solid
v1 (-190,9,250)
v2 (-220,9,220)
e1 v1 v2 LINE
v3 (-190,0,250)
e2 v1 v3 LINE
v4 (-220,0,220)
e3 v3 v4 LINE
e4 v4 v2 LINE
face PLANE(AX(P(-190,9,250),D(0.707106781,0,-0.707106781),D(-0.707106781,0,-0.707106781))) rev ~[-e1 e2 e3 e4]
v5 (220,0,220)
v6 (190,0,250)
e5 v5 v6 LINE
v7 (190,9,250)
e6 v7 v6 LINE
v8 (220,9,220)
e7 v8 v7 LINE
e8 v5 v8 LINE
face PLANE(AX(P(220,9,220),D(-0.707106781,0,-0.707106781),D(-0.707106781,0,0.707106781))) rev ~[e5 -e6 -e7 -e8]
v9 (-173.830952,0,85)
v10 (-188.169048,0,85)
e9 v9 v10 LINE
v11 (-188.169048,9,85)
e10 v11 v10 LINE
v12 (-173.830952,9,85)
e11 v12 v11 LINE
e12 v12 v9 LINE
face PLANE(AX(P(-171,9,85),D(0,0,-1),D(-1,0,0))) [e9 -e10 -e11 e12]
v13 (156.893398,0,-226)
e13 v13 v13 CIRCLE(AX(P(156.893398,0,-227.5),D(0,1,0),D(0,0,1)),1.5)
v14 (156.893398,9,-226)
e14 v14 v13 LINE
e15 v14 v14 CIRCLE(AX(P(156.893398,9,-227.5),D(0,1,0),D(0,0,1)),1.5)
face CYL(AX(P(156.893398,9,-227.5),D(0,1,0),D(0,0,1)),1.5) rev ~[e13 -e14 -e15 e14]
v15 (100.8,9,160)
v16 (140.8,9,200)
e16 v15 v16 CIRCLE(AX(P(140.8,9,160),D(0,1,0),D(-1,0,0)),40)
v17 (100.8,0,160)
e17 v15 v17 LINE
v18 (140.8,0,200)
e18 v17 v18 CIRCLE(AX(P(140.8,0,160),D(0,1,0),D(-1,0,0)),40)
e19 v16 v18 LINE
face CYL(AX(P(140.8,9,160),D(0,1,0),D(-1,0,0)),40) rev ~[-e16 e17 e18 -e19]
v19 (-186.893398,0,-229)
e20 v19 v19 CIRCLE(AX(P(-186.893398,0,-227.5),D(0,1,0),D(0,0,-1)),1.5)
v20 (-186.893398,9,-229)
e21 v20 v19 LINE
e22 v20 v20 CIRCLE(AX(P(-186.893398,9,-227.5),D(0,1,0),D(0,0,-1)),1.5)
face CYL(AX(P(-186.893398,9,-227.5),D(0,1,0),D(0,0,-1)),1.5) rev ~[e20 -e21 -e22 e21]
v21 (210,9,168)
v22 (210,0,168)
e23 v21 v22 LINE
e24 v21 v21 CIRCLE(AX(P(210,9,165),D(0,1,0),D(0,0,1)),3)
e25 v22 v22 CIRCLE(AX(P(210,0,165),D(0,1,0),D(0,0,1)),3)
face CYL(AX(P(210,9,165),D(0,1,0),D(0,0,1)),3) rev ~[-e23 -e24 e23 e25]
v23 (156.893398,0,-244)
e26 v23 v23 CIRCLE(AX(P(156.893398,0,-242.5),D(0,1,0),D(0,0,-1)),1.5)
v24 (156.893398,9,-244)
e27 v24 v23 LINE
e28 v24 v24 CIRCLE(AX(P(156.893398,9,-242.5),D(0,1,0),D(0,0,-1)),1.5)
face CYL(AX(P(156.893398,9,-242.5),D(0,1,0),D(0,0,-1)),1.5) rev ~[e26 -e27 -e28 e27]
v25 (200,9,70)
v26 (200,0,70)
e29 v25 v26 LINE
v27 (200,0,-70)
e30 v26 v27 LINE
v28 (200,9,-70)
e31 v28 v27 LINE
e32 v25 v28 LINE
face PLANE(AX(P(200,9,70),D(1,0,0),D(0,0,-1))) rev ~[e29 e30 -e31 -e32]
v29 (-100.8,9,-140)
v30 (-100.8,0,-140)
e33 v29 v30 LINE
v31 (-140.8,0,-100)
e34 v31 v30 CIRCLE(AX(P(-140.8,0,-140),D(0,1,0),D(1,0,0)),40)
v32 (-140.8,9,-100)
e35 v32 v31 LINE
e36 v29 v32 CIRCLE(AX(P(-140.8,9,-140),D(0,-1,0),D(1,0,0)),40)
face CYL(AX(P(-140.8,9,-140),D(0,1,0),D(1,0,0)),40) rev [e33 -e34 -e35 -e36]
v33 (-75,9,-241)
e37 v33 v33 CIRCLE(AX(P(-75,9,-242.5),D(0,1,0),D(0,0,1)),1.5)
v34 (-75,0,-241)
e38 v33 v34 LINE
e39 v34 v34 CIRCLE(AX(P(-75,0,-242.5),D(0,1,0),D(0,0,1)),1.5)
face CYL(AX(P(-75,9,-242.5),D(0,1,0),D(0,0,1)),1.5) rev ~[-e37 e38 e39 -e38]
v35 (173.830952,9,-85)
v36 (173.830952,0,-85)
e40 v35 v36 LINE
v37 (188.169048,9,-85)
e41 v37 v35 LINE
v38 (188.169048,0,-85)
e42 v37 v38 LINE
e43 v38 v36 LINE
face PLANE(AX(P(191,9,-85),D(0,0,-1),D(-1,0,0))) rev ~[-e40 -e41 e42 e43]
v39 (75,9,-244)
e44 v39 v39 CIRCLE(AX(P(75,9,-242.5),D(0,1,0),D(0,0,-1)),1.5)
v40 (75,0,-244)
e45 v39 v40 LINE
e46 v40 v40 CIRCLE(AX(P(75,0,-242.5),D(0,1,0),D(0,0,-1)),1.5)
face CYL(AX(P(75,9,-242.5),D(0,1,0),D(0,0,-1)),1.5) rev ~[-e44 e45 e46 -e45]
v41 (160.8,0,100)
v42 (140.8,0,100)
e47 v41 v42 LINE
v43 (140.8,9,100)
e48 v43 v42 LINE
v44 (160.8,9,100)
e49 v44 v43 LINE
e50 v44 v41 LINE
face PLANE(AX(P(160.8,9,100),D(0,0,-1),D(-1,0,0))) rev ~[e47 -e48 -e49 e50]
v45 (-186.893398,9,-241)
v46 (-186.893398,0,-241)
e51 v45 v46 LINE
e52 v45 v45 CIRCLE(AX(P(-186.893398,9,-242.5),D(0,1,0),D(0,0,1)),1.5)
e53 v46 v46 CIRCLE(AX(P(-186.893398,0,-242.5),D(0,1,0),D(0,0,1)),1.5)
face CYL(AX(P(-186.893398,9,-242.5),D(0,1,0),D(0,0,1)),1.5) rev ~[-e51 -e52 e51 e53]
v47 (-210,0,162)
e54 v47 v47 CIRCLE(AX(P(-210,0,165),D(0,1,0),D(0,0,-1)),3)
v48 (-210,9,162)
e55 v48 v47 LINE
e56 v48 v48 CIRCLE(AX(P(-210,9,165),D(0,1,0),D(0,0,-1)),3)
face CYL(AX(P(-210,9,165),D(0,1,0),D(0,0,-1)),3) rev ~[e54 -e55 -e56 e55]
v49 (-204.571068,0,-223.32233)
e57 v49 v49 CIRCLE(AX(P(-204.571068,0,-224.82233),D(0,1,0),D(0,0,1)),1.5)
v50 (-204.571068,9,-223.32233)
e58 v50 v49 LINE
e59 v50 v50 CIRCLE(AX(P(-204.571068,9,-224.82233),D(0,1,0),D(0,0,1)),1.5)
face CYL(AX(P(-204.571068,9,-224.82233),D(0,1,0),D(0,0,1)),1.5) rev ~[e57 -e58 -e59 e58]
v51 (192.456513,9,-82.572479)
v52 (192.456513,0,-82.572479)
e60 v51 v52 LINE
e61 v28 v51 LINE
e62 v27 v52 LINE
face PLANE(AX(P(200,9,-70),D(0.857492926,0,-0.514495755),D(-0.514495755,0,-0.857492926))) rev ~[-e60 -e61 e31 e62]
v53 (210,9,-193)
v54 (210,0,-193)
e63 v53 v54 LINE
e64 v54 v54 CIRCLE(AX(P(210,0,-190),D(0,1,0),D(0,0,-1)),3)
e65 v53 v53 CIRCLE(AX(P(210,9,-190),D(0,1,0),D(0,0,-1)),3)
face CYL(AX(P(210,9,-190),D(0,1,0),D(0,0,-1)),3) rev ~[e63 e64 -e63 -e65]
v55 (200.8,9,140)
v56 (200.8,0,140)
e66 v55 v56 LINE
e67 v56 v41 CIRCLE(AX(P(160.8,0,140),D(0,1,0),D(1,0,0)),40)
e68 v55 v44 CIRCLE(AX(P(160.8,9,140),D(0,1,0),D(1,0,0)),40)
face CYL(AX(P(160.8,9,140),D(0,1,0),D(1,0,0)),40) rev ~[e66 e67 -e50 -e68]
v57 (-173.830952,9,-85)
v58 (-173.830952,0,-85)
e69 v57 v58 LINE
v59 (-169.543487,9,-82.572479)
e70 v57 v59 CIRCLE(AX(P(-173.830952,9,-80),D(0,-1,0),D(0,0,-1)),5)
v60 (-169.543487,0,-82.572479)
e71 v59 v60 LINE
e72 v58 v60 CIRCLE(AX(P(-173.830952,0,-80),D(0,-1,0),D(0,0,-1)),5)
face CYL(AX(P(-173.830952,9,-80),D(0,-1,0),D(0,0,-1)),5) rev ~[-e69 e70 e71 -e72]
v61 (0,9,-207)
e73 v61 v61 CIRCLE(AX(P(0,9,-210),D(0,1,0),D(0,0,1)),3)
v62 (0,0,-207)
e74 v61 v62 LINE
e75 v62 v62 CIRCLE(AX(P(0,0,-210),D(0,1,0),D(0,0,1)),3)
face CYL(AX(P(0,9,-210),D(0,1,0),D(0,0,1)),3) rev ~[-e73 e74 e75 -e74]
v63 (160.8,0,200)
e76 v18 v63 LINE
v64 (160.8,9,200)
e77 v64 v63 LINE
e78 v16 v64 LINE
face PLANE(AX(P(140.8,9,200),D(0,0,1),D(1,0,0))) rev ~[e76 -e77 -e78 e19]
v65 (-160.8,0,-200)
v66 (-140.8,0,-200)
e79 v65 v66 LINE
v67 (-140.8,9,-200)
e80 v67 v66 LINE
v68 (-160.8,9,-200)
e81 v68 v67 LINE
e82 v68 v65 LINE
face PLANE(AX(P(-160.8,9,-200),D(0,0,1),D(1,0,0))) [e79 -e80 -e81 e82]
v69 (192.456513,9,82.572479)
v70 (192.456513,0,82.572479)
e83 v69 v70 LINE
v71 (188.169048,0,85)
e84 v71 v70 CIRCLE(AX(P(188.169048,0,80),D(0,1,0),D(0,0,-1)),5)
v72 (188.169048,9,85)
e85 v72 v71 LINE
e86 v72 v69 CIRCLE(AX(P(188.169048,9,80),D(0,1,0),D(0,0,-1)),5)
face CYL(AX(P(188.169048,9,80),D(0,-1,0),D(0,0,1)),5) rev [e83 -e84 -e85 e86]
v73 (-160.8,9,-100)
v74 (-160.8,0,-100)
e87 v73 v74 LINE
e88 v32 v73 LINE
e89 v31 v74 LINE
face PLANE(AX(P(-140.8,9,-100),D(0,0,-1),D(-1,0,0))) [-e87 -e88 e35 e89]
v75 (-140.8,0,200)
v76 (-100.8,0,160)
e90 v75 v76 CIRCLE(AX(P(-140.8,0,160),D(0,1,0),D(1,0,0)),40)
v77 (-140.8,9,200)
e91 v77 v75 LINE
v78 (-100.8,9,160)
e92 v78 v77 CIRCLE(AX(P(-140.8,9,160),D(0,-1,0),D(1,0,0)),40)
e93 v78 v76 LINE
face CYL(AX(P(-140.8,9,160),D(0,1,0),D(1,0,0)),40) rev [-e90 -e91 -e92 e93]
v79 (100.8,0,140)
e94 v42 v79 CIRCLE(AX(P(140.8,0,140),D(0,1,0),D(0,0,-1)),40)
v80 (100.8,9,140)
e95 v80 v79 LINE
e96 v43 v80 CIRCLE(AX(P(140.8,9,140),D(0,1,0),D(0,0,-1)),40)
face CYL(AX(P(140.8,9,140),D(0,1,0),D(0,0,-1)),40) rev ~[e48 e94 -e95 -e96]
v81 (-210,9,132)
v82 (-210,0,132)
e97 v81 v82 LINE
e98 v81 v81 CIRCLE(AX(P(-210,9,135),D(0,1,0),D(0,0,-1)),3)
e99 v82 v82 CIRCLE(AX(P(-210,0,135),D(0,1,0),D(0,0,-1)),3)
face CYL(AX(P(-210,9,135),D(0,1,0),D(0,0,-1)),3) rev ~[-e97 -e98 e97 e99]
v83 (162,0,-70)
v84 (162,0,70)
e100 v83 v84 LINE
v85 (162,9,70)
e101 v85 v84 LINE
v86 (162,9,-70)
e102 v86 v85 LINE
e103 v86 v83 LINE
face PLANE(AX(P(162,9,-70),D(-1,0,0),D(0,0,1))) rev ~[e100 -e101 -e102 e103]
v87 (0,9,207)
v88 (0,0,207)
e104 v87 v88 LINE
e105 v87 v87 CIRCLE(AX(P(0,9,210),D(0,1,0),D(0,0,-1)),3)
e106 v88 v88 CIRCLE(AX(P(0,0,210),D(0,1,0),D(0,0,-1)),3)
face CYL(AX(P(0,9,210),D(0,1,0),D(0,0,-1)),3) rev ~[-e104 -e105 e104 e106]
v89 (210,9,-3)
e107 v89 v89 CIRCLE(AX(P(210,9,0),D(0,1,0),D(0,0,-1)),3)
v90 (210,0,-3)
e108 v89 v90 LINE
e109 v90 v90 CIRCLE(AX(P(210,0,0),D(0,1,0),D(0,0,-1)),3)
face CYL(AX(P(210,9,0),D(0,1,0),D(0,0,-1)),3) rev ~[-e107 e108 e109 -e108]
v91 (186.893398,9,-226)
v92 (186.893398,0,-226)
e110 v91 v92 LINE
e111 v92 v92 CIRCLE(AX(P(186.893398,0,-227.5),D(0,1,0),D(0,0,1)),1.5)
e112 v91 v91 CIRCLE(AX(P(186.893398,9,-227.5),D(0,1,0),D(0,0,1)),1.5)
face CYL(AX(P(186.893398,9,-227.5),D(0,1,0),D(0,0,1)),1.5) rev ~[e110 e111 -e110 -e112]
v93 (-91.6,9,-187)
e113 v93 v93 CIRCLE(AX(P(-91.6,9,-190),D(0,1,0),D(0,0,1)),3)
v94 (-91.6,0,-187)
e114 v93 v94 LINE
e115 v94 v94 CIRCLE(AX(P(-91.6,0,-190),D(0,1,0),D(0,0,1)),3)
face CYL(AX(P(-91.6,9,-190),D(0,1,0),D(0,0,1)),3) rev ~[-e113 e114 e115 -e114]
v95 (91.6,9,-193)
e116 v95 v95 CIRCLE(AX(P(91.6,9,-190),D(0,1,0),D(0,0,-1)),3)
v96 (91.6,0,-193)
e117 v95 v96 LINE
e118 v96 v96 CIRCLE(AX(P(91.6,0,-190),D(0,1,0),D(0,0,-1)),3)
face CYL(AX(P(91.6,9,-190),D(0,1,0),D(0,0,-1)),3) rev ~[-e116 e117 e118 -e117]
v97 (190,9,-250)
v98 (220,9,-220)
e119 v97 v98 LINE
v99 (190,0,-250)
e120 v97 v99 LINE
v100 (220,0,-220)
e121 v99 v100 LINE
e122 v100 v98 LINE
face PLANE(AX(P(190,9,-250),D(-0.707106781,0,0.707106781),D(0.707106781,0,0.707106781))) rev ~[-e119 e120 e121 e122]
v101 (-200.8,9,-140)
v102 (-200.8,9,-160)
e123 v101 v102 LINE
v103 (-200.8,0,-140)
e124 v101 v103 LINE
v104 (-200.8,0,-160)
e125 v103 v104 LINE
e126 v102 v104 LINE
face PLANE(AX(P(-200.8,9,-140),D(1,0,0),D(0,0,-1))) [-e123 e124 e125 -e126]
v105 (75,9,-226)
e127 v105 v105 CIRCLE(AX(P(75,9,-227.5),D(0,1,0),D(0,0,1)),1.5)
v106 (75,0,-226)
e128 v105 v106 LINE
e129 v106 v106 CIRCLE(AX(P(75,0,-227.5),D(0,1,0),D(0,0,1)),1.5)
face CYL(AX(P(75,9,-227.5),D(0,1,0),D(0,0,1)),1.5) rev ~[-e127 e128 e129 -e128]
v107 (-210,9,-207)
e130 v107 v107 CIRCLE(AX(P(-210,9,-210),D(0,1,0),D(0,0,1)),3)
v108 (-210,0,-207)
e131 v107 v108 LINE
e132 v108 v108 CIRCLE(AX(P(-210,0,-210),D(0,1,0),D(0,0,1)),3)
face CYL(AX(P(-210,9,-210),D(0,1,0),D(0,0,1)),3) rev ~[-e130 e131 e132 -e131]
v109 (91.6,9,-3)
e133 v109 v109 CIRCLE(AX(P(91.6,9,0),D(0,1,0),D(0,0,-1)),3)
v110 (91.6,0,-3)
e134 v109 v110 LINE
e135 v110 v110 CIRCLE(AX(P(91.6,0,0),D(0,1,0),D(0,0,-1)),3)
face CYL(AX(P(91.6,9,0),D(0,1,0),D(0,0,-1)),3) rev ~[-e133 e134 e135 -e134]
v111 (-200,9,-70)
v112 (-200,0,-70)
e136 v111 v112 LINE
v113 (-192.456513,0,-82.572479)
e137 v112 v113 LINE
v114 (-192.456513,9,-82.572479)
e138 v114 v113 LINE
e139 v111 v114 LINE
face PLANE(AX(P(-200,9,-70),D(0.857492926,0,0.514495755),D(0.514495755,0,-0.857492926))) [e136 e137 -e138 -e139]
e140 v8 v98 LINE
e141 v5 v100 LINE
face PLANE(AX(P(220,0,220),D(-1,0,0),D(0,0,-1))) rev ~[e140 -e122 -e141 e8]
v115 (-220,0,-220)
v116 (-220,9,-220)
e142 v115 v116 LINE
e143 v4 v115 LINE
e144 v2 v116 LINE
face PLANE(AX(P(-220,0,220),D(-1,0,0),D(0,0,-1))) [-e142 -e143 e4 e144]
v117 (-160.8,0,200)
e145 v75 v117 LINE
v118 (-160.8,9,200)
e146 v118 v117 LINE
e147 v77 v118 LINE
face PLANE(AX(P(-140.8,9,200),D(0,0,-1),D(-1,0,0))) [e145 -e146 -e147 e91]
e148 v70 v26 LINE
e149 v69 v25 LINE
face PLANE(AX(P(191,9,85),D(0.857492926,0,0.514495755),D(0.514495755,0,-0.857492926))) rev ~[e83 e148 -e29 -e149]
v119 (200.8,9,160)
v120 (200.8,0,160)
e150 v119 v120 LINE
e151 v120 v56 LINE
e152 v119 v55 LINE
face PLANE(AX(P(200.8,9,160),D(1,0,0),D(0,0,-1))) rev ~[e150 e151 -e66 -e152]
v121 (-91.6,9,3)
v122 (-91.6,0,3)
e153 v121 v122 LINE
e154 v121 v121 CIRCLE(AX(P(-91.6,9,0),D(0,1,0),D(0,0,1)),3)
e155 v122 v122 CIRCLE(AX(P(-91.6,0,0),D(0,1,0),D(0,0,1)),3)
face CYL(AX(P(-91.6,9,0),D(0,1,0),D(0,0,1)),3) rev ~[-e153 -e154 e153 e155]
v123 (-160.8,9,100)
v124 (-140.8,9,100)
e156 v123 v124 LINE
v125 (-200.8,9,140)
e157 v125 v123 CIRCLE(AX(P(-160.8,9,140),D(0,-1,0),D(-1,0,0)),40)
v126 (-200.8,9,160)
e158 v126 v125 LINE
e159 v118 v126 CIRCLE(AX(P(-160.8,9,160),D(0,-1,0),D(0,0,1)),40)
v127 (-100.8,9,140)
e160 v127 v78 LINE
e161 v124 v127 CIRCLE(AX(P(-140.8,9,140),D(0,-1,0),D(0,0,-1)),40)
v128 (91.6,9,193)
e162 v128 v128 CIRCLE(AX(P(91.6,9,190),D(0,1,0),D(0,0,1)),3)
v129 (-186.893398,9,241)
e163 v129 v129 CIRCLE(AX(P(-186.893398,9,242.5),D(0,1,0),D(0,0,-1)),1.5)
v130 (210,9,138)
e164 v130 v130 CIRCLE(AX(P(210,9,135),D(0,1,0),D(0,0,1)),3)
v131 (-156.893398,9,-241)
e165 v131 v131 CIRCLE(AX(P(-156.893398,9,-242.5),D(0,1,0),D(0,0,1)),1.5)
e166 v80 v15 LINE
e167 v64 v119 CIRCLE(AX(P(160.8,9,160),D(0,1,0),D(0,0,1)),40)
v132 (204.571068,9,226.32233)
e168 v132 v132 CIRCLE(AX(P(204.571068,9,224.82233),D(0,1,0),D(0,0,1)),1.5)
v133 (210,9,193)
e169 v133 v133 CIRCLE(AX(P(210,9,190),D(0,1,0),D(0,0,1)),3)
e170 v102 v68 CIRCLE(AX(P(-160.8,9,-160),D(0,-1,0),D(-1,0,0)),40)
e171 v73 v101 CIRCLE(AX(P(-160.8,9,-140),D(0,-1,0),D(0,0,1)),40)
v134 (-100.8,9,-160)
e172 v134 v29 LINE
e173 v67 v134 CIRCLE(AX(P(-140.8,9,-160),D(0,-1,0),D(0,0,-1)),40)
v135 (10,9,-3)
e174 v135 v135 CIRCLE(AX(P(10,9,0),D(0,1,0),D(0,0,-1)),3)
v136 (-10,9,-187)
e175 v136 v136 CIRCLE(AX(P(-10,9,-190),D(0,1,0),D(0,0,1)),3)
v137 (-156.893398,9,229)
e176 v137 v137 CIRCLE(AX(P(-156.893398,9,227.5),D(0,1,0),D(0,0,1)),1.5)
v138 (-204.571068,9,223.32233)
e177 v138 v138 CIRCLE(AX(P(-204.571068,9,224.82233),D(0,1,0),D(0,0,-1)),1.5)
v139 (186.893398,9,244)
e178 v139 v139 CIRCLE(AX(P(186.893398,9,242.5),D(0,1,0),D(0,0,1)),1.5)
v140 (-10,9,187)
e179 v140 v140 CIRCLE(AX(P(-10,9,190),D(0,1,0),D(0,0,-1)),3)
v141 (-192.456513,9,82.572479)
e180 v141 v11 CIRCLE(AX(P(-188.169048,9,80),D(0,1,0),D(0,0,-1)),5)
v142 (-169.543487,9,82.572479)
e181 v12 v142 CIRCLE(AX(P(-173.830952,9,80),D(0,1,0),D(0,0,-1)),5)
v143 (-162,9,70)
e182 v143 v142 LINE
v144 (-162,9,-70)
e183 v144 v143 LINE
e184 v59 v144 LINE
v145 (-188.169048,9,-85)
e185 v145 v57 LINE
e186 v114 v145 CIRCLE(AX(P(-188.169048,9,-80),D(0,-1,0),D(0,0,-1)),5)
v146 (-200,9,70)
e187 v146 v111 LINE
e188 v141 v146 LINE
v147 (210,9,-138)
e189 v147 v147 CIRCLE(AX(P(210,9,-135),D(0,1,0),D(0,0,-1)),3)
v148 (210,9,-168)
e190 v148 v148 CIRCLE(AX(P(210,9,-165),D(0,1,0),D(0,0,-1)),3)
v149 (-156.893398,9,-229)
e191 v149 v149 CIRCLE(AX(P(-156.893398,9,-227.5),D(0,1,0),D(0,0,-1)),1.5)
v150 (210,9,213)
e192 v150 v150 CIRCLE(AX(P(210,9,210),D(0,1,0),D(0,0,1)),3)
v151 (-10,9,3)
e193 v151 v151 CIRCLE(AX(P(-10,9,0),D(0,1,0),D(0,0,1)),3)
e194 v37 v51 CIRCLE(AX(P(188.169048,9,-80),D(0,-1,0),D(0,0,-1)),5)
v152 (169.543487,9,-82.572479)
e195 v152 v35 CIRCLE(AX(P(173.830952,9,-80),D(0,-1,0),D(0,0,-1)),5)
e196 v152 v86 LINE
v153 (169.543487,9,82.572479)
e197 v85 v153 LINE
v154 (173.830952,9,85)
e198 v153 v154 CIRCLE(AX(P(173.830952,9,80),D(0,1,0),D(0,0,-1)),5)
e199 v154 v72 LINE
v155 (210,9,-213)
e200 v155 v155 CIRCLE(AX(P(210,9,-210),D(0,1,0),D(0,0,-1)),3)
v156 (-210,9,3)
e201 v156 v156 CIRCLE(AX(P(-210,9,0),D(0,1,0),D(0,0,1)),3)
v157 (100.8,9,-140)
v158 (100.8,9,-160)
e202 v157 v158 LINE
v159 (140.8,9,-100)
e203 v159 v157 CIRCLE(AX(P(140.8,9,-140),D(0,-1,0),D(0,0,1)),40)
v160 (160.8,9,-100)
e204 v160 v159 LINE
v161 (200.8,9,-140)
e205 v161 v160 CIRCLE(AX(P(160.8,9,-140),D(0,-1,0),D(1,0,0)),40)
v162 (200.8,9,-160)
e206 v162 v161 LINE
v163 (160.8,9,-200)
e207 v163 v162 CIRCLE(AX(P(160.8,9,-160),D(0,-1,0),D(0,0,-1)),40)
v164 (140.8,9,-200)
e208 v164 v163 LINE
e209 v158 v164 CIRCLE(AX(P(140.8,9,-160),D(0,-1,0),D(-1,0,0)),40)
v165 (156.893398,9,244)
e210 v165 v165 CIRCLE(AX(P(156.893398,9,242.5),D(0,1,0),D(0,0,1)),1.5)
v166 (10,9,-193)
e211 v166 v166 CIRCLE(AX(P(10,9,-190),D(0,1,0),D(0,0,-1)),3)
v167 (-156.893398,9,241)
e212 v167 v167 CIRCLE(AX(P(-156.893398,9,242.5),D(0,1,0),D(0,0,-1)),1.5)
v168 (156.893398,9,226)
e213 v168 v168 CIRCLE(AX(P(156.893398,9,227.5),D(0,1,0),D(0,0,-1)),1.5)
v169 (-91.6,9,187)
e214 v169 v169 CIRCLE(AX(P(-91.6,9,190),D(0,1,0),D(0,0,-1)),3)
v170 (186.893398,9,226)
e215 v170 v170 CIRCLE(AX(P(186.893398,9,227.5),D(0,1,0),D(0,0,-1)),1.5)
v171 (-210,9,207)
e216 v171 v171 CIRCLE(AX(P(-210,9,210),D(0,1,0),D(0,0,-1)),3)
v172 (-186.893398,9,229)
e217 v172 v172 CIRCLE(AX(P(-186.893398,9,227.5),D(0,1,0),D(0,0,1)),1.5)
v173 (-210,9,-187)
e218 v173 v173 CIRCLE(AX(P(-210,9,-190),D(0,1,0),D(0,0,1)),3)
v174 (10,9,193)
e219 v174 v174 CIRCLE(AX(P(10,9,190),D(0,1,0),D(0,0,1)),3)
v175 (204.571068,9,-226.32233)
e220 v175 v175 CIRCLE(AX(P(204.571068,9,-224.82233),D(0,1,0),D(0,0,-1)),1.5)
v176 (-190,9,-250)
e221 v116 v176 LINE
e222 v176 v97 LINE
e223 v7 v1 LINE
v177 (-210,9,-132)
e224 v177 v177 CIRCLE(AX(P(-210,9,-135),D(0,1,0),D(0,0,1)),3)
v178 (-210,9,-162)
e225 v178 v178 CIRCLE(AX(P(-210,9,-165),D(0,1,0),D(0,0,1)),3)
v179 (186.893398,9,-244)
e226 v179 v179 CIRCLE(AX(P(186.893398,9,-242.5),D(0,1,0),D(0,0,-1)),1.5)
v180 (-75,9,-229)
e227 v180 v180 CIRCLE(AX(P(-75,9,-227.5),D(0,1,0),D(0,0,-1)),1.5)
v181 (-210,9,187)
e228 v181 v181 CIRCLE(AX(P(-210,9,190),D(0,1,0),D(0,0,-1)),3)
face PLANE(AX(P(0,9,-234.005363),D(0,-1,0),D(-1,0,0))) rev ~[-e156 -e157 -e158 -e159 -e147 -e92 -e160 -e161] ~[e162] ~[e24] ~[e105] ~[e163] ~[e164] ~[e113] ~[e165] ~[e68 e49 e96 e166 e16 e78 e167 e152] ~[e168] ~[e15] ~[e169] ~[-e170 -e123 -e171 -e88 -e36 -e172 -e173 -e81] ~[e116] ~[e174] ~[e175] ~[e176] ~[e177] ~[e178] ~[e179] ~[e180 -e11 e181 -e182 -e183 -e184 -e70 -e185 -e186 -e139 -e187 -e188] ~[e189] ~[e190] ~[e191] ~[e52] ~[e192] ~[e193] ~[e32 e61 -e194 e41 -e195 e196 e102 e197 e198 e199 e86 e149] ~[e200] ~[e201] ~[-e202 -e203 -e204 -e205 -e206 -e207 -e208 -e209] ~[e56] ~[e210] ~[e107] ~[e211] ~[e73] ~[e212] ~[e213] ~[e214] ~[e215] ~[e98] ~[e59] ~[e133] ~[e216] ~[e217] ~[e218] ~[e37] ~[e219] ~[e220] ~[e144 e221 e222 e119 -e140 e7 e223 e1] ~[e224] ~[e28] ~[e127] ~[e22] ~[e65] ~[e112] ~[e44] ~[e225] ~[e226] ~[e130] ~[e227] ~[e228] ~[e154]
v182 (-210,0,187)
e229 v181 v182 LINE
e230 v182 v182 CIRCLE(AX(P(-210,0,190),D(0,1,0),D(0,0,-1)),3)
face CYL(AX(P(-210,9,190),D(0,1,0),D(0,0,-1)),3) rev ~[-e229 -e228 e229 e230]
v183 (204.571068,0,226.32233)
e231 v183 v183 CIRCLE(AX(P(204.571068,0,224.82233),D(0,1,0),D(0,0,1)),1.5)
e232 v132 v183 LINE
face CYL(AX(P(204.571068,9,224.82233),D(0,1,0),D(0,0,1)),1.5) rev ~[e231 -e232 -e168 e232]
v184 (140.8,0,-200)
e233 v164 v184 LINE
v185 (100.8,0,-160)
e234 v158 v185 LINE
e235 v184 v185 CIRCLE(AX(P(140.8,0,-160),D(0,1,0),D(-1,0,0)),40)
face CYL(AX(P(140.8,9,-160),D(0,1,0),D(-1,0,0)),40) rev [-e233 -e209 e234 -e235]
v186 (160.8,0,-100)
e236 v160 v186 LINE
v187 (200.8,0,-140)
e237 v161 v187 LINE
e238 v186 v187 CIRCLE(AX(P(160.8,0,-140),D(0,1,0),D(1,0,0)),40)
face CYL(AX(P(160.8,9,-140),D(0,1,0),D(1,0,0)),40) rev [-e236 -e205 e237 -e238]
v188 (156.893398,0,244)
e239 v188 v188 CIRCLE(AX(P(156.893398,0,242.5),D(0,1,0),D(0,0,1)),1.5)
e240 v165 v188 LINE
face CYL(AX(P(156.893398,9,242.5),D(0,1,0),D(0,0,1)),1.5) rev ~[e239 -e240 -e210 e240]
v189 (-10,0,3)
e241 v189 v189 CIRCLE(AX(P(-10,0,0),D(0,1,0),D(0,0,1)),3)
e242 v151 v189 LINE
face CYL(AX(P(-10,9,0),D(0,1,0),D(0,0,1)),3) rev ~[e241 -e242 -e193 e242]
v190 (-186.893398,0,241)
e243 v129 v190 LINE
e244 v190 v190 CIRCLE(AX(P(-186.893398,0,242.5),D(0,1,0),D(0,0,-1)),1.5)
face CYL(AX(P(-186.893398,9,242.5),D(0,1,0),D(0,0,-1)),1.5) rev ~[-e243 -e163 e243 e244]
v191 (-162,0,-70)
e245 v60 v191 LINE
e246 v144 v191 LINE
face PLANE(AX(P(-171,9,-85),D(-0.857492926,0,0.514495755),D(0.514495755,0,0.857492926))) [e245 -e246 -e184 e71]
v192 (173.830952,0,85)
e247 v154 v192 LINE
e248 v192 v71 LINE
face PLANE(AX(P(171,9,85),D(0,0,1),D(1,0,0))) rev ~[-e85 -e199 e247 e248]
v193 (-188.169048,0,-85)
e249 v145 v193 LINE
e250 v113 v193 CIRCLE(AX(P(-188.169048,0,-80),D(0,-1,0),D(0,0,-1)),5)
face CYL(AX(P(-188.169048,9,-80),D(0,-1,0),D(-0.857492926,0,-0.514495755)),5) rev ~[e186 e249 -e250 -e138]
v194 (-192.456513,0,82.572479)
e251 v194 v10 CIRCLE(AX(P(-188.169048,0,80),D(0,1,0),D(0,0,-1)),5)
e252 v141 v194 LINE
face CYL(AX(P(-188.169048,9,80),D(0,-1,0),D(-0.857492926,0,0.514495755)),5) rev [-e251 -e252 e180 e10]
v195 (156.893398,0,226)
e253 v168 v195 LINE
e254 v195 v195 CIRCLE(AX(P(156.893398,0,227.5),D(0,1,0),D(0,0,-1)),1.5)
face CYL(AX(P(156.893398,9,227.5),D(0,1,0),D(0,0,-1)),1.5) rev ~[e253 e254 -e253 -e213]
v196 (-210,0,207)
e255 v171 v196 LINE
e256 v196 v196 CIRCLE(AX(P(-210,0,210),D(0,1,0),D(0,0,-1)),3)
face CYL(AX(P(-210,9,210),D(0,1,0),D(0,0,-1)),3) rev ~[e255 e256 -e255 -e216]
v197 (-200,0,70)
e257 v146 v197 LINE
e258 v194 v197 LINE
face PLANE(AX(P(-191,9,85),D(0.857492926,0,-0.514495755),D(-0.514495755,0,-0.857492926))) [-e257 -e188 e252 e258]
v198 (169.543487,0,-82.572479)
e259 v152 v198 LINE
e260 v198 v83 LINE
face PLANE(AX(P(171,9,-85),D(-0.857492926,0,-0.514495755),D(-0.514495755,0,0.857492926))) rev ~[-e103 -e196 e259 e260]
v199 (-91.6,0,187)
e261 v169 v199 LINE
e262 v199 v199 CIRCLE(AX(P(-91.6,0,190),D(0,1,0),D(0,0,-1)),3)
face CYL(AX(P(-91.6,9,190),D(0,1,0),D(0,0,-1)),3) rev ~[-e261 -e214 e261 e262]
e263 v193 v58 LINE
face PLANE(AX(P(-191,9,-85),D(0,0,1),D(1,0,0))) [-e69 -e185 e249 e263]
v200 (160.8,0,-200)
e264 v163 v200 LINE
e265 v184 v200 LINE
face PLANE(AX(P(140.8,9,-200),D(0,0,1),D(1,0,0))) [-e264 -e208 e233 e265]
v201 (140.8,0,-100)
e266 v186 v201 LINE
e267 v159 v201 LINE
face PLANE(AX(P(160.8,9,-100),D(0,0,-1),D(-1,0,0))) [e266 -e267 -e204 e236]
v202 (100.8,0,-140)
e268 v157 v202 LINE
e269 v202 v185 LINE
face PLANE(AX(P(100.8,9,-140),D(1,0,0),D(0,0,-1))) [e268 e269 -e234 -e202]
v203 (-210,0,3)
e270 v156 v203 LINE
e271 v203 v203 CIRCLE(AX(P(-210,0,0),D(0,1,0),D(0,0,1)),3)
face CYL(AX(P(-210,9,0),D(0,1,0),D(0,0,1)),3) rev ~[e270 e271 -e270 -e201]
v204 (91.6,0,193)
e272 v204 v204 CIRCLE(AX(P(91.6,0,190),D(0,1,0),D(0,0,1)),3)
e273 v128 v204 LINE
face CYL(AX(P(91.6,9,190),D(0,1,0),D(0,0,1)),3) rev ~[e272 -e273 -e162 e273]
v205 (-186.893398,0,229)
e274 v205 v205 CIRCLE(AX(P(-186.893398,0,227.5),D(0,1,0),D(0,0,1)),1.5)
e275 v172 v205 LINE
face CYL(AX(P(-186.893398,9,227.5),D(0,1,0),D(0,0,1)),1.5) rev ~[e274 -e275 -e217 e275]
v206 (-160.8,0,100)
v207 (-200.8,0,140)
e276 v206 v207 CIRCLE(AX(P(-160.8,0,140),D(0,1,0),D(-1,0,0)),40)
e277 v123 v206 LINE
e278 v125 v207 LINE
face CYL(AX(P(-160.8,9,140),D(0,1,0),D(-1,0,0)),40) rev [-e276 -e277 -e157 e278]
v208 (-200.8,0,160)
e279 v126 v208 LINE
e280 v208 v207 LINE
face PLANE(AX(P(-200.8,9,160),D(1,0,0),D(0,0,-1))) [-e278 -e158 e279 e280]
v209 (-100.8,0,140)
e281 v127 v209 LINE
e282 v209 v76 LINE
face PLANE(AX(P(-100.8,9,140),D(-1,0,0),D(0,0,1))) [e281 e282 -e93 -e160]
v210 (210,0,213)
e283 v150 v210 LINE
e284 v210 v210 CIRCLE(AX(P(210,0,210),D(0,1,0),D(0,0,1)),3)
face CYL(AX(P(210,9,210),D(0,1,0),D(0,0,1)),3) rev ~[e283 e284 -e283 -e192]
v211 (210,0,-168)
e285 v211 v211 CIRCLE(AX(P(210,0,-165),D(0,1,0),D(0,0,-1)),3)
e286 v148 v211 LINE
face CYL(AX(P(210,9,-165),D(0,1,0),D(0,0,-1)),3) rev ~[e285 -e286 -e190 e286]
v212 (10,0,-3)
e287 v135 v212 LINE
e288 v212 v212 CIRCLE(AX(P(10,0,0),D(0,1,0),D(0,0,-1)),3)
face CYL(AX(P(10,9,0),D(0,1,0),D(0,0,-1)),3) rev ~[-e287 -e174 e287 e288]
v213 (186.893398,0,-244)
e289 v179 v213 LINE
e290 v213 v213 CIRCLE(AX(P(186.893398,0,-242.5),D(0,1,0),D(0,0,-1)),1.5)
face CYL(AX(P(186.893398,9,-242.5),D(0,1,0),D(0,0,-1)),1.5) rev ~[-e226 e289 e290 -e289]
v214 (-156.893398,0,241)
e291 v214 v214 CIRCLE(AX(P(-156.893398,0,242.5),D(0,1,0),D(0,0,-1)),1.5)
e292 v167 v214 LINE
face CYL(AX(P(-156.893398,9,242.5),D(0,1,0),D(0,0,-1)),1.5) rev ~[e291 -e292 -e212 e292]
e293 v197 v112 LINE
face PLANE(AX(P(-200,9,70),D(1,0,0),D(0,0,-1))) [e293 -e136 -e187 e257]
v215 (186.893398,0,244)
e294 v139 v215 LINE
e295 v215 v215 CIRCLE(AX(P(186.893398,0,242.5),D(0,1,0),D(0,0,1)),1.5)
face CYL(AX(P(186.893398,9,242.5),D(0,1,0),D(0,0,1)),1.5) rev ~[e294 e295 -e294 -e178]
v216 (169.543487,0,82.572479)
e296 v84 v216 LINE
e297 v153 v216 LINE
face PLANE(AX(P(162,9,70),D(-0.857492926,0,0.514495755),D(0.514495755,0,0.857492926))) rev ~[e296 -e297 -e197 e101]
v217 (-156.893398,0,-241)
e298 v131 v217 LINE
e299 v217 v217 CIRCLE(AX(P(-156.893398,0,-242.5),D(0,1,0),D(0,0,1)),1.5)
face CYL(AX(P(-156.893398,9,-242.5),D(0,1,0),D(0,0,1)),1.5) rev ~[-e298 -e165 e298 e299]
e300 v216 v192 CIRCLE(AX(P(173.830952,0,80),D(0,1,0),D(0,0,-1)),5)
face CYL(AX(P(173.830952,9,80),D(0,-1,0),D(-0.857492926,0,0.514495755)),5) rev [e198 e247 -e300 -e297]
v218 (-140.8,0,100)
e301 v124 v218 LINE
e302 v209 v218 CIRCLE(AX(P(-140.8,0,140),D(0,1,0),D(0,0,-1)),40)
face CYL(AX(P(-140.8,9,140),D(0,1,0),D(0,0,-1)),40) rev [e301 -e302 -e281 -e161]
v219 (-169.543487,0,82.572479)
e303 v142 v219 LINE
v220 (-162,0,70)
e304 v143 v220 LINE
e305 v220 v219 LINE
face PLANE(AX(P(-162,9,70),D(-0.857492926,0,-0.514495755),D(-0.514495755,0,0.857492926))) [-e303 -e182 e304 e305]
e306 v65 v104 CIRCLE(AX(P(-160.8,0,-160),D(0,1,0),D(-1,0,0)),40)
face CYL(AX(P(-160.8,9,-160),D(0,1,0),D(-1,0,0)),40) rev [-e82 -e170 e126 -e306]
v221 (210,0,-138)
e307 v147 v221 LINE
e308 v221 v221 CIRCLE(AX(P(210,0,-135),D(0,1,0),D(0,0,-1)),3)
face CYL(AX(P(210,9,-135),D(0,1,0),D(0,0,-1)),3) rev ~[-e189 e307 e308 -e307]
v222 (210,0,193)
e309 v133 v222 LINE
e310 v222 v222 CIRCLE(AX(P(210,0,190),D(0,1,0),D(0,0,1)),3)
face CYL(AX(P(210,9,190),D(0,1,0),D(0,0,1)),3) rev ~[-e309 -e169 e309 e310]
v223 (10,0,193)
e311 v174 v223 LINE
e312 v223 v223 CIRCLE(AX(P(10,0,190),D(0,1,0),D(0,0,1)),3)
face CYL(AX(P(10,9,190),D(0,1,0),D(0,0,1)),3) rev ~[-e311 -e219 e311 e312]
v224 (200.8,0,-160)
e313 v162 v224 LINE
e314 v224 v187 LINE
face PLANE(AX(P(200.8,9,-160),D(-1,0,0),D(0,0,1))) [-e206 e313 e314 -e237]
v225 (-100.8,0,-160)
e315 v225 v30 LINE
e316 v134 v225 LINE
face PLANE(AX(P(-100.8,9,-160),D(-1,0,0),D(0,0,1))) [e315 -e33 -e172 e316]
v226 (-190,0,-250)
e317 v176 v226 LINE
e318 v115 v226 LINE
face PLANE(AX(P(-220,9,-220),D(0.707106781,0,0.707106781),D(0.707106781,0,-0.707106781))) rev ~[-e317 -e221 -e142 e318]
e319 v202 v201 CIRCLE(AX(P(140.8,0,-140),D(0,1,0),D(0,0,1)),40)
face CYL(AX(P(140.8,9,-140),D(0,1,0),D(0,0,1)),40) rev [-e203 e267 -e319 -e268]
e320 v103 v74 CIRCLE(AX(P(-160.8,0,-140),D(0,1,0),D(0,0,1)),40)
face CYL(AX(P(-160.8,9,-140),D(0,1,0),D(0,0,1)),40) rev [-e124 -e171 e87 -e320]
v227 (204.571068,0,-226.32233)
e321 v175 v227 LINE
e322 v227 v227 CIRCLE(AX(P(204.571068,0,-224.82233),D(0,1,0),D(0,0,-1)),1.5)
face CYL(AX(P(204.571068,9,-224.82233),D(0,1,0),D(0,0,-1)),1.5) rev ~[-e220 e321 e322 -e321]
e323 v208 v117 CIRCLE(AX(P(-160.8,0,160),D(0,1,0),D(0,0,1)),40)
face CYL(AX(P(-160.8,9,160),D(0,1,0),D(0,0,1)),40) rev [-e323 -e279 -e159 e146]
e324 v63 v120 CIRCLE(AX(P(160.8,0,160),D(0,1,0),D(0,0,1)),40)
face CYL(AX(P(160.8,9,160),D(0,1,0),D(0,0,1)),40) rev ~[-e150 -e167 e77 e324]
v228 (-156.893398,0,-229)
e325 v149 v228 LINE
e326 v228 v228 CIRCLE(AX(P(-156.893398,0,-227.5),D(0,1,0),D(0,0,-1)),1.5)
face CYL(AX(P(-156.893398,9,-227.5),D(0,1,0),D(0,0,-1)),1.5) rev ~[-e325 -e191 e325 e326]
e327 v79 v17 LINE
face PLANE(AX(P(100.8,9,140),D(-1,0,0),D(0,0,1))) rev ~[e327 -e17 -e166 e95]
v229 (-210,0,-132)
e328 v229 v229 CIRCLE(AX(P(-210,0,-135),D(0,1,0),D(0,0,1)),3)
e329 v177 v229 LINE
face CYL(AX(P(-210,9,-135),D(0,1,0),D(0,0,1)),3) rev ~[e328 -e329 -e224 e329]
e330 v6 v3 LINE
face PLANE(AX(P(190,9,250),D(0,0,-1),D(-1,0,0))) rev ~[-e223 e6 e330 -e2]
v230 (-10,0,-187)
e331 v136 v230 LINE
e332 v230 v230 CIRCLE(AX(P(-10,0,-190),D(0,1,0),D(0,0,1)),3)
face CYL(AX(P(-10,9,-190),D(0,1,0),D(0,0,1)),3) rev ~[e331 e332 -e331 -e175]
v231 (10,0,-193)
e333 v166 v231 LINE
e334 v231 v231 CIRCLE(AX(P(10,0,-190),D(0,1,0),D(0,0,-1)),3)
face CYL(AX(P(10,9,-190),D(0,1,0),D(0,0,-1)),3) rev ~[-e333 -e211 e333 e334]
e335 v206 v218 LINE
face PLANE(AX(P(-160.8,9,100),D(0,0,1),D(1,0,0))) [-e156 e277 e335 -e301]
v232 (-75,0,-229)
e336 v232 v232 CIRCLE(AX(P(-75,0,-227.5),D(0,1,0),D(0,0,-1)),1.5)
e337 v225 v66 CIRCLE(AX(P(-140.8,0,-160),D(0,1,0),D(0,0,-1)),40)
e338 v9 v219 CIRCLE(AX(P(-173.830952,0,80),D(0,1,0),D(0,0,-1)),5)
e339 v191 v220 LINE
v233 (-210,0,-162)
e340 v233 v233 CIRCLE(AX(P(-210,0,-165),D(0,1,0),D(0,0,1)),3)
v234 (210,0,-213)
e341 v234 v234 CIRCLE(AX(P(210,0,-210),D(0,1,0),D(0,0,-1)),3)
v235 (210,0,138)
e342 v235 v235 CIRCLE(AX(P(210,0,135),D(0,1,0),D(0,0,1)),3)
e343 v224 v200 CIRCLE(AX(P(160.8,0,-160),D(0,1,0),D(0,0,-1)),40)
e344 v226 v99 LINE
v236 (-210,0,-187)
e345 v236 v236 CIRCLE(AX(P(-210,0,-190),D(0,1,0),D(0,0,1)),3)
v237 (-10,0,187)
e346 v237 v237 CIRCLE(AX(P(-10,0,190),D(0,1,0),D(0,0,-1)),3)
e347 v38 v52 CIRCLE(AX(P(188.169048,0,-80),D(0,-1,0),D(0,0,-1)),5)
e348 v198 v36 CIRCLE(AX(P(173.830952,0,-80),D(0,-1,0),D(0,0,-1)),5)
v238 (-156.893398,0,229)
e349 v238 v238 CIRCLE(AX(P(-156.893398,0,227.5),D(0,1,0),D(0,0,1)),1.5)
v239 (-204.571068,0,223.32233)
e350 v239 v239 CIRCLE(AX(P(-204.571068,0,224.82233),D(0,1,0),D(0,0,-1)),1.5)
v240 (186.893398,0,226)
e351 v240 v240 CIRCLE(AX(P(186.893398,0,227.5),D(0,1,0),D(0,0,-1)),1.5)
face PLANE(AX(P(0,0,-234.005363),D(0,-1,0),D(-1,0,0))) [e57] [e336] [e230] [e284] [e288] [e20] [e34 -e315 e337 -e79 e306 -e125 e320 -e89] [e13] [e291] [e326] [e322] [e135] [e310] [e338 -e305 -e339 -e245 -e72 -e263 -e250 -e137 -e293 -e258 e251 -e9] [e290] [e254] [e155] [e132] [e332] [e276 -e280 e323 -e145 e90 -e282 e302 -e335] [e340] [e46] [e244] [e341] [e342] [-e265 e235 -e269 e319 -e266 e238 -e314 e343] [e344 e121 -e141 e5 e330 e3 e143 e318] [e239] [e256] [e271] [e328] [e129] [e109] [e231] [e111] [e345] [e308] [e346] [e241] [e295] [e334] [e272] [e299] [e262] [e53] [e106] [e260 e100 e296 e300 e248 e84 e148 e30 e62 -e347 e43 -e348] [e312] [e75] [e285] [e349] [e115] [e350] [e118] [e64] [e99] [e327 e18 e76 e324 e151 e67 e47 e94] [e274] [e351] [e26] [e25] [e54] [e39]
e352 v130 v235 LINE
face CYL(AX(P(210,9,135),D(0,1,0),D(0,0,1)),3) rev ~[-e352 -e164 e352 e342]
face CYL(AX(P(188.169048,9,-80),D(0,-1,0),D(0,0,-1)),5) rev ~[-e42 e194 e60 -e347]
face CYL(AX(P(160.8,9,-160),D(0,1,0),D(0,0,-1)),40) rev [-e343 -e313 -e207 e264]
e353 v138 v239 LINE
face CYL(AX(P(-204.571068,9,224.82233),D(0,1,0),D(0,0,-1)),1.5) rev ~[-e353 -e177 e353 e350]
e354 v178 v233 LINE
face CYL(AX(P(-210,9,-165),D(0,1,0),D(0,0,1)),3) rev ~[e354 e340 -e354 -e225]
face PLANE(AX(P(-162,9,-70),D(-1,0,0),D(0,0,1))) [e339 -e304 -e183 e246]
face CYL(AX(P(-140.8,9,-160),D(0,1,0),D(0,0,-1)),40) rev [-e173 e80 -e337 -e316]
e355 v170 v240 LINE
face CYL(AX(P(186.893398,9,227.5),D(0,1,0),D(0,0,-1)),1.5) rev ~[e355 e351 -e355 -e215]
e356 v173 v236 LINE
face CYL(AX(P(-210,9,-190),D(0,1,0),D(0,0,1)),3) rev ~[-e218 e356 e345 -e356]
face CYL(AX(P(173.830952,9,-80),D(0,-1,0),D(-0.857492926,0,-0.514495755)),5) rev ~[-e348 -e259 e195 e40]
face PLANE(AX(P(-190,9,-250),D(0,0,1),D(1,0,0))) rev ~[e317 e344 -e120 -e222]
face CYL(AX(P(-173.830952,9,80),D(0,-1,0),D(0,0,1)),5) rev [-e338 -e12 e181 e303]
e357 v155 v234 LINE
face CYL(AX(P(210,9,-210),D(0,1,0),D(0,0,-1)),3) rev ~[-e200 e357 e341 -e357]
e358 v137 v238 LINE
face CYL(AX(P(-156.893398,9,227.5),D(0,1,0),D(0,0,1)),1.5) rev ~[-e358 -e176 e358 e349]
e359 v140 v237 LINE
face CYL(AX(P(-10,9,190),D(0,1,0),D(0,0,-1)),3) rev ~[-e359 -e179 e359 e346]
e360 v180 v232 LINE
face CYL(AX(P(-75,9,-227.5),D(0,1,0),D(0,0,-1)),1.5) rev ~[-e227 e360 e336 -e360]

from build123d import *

# Parameters (mm, degrees)
CROQUIS1_W              = 440
CROQUIS1_H              = 440
SALIENTE_EXTRUIR1_DEPTH = 9
CROQUIS2_R              = 2
CORTAR_EXTRUIR1_DEPTH   = 312.257128432
CORTAR_EXTRUIR2_DEPTH   = 312.257128432
CORTAR_EXTRUIR3_DEPTH   = 312.257128432
REDONDEO1_R             = 5
CROQUIS5_R              = 2
CORTAR_EXTRUIR4_DEPTH   = 312.257128432
SALIENTE_EXTRUIR3_DEPTH = 9
CROQUIS8_R              = 1.5
CORTAR_EXTRUIR7_DEPTH   = 334.138109498
CROQUIS9_R              = 3
CORTAR_EXTRUIR8_DEPTH   = 334.138109498


with BuildPart() as part:
    # Croquis1 → Saliente-Extruir1 (new body)
    with BuildSketch(Plane(origin=(0, 0, 0), x_dir=(1, 0, 0), z_dir=(0, 1, 0))):
        Rectangle(CROQUIS1_W, CROQUIS1_H)
    extrude(amount=SALIENTE_EXTRUIR1_DEPTH)

    # Croquis2 → Cortar-Extruir1 (cut, through all)
    with BuildSketch(Plane(origin=(0, 9, 0), x_dir=(1, 0, 0), z_dir=(0, 1, 0))):
        with Locations(Location((-210, 210, 0), (0, 0, 270))):
            Circle(CROQUIS2_R)
        with Locations(Location((0, 210, 0), (0, 0, 270))):
            Circle(CROQUIS2_R)
        with Locations(Location((-210, 190, 0), (0, 0, 270))):
            Circle(CROQUIS2_R)
        with Locations(Location((-10, 190, 0), (0, 0, 270))):
            Circle(CROQUIS2_R)
        with Locations(Location((-210, 0, 0), (0, 0, 270))):
            Circle(CROQUIS2_R)
        with Locations(Location((-10, 0, 0), (0, 0, 270))):
            Circle(CROQUIS2_R)
        with Locations(Location((0, -210, 0), (0, 0, 90))):
            Circle(CROQUIS2_R)
        with Locations(Location((-10, -190, 0), (0, 0, 90))):
            Circle(CROQUIS2_R)
        with Locations(Location((-210, -190, 0), (0, 0, 90))):
            Circle(CROQUIS2_R)
        with Locations(Location((-210, -210, 0), (0, 0, 90))):
            Circle(CROQUIS2_R)
        with Locations(Location((10, -190, 0), (0, 0, 270))):
            Circle(CROQUIS2_R)
        with Locations(Location((210, -210, 0), (0, 0, 270))):
            Circle(CROQUIS2_R)
        with Locations(Location((210, -190, 0), (0, 0, 270))):
            Circle(CROQUIS2_R)
        with Locations(Location((210, 0, 0), (0, 0, 90))):
            Circle(CROQUIS2_R)
        with Locations(Location((10, 0, 0), (0, 0, 90))):
            Circle(CROQUIS2_R)
        with Locations(Location((10, 190, 0), (0, 0, 90))):
            Circle(CROQUIS2_R)
        with Locations(Location((210, 190, 0), (0, 0, 90))):
            Circle(CROQUIS2_R)
        with Locations(Location((210, 210, 0), (0, 0, 90))):
            Circle(CROQUIS2_R)
        with Locations(Location((-91.6, 190, 0), (0, 0, 270))):
            Circle(CROQUIS2_R)
        with Locations(Location((91.6, 190, 0), (0, 0, 90))):
            Circle(CROQUIS2_R)
        with Locations(Location((-91.6, 0, 0), (0, 0, 270))):
            Circle(CROQUIS2_R)
        with Locations(Location((91.6, -190, 0), (0, 0, 270))):
            Circle(CROQUIS2_R)
        with Locations(Location((-91.6, -190, 0), (0, 0, 90))):
            Circle(CROQUIS2_R)
        with Locations(Location((91.6, 0, 0), (0, 0, 90))):
            Circle(CROQUIS2_R)
    extrude(amount=-CORTAR_EXTRUIR1_DEPTH, mode=Mode.SUBTRACT)

    # Croquis3 → Cortar-Extruir2 (cut, through all)
    with BuildSketch(Plane(origin=(0, 9, 0), x_dir=(1, 0, 0), z_dir=(0, 1, 0))):
        Polygon((-200, -70), (-200, 70), (-191, 85), (-171, 85), (-162, 70), (-162, -70), (-171, -85), (-191, -85), align=None)
        Polygon((171, 85), (162, 70), (162, -70), (171, -85), (191, -85), (200, -70), (200, 70), (191, 85), align=None)
    extrude(amount=-CORTAR_EXTRUIR2_DEPTH, mode=Mode.SUBTRACT)

    # Croquis4 → Cortar-Extruir3 (cut, through all)
    with BuildSketch(Plane(origin=(0, 9, 0), x_dir=(1, 0, 0), z_dir=(0, 1, 0))):
        with BuildLine():
            Line((160.8, 100), (140.8, 100))
            ThreePointArc((140.8, 100), (112.515728753, 111.715728753), (100.8, 140))
            Line((100.8, 140), (100.8, 160))
            ThreePointArc((100.8, 160), (112.515728753, 188.284271247), (140.8, 200))
            Line((140.8, 200), (160.8, 200))
            ThreePointArc((160.8, 200), (189.084271247, 188.284271247), (200.8, 160))
            Line((200.8, 160), (200.8, 140))
            ThreePointArc((200.8, 140), (189.084271247, 111.715728753), (160.8, 100))
        make_face()
        with BuildLine():
            Line((-160.8, 200), (-140.8, 200))
            ThreePointArc((-140.8, 200), (-112.515728753, 188.284271247), (-100.8, 160))
            Line((-100.8, 160), (-100.8, 140))
            ThreePointArc((-100.8, 140), (-112.515728753, 111.715728753), (-140.8, 100))
            Line((-140.8, 100), (-160.8, 100))
            ThreePointArc((-160.8, 100), (-189.084271247, 111.715728753), (-200.8, 140))
            Line((-200.8, 140), (-200.8, 160))
            ThreePointArc((-200.8, 160), (-189.084271247, 188.284271247), (-160.8, 200))
        make_face()
        with BuildLine():
            Line((-160.8, -100), (-140.8, -100))
            ThreePointArc((-140.8, -100), (-112.515728753, -111.715728753), (-100.8, -140))
            Line((-100.8, -140), (-100.8, -160))
            ThreePointArc((-100.8, -160), (-112.515728753, -188.284271247), (-140.8, -200))
            Line((-140.8, -200), (-160.8, -200))
            ThreePointArc((-160.8, -200), (-189.084271247, -188.284271247), (-200.8, -160))
            Line((-200.8, -160), (-200.8, -140))
            ThreePointArc((-200.8, -140), (-189.084271247, -111.715728753), (-160.8, -100))
        make_face()
        with BuildLine():
            Line((200.8, -160), (200.8, -140))
            ThreePointArc((200.8, -140), (189.084271247, -111.715728753), (160.8, -100))
            Line((160.8, -100), (140.8, -100))
            ThreePointArc((140.8, -100), (112.515728753, -111.715728753), (100.8, -140))
            Line((100.8, -140), (100.8, -160))
            ThreePointArc((100.8, -160), (112.515728753, -188.284271247), (140.8, -200))
            Line((140.8, -200), (160.8, -200))
            ThreePointArc((160.8, -200), (189.084271247, -188.284271247), (200.8, -160))
        make_face()
    extrude(amount=-CORTAR_EXTRUIR3_DEPTH, mode=Mode.SUBTRACT)

    # Redondeo1
    redondeo1_edges = [part.edges().sort_by_distance(p)[0] for p in [
        (-171, 4.5, 85),
        (-191, 4.5, 85),
        (-191, 4.5, -85),
        (-171, 4.5, -85),
        (171, 4.5, -85),
        (191, 4.5, -85),
        (191, 4.5, 85),
        (171, 4.5, 85),
    ]]
    fillet(redondeo1_edges, radius=REDONDEO1_R)

    # Croquis5 → Cortar-Extruir4 (cut, through all)
    with BuildSketch(Plane(origin=(0, 9, 0), x_dir=(1, 0, 0), z_dir=(0, 1, 0))):
        with Locations(Location((-210, 165, 0), (0, 0, 270))):
            Circle(CROQUIS5_R)
        with Locations(Location((-210, 135, 0), (0, 0, 270))):
            Circle(CROQUIS5_R)
        with Locations(Location((-210, -135, 0), (0, 0, 90))):
            Circle(CROQUIS5_R)
        with Locations(Location((-210, -165, 0), (0, 0, 90))):
            Circle(CROQUIS5_R)
        with Locations(Location((210, -165, 0), (0, 0, 270))):
            Circle(CROQUIS5_R)
        with Locations(Location((210, -135, 0), (0, 0, 270))):
            Circle(CROQUIS5_R)
        with Locations(Location((210, 135, 0), (0, 0, 90))):
            Circle(CROQUIS5_R)
        with Locations(Location((210, 165, 0), (0, 0, 90))):
            Circle(CROQUIS5_R)
    extrude(amount=-CORTAR_EXTRUIR4_DEPTH, mode=Mode.SUBTRACT)

    # Croquis7 → Saliente-Extruir3 (add)
    with BuildSketch(Plane(origin=(0, 9, 0), x_dir=(1, 0, 0), z_dir=(0, 1, 0))):
        Polygon((220, 220), (-220, 220), (-190, 250), (190, 250), align=None)
        Polygon((220, -220), (190, -250), (-190, -250), (-220, -220), align=None)
    extrude(amount=-SALIENTE_EXTRUIR3_DEPTH)

    # Croquis8 → Cortar-Extruir7 (cut, through all)
    with BuildSketch(Plane(origin=(0, 9, 0), x_dir=(1, 0, 0), z_dir=(0, 1, 0))):
        with Locations(Location((-75, 242.5, 0), (0, 0, 270))):
            Circle(CROQUIS8_R)
        with Locations(Location((-75, 227.5, 0), (0, 0, 90))):
            Circle(CROQUIS8_R)
        with Locations(Location((75, 227.5, 0), (0, 0, 270))):
            Circle(CROQUIS8_R)
        with Locations(Location((75, 242.5, 0), (0, 0, 90))):
            Circle(CROQUIS8_R)
        with Locations(Location((-186.893398282, 242.5, 0), (0, 0, 270))):
            Circle(CROQUIS8_R)
        with Locations(Location((-204.571067812, 224.82233047, 0), (0, 0, 270))):
            Circle(CROQUIS8_R)
        with Locations(Location((-156.893398282, 242.5, 0), (0, 0, 270))):
            Circle(CROQUIS8_R)
        with Locations(Location((-156.893398282, 227.5, 0), (0, 0, 90))):
            Circle(CROQUIS8_R)
        with Locations(Location((-186.893398282, 227.5, 0), (0, 0, 90))):
            Circle(CROQUIS8_R)
        with Locations(Location((186.893398282, 227.5, 0), (0, 0, 270))):
            Circle(CROQUIS8_R)
        with Locations(Location((156.893398282, 227.5, 0), (0, 0, 270))):
            Circle(CROQUIS8_R)
        with Locations(Location((156.893398282, 242.5, 0), (0, 0, 90))):
            Circle(CROQUIS8_R)
        with Locations(Location((204.571067812, 224.82233047, 0), (0, 0, 90))):
            Circle(CROQUIS8_R)
        with Locations(Location((186.893398282, 242.5, 0), (0, 0, 90))):
            Circle(CROQUIS8_R)
        with Locations(Location((186.893398282, -242.5, 0), (0, 0, 270))):
            Circle(CROQUIS8_R)
        with Locations(Location((204.571067812, -224.82233047, 0), (0, 0, 270))):
            Circle(CROQUIS8_R)
        with Locations(Location((156.893398282, -242.5, 0), (0, 0, 270))):
            Circle(CROQUIS8_R)
        with Locations(Location((156.893398282, -227.5, 0), (0, 0, 90))):
            Circle(CROQUIS8_R)
        with Locations(Location((186.893398282, -227.5, 0), (0, 0, 90))):
            Circle(CROQUIS8_R)
        with Locations(Location((-186.893398282, -227.5, 0), (0, 0, 270))):
            Circle(CROQUIS8_R)
        with Locations(Location((-156.893398282, -227.5, 0), (0, 0, 270))):
            Circle(CROQUIS8_R)
        with Locations(Location((-156.893398282, -242.5, 0), (0, 0, 90))):
            Circle(CROQUIS8_R)
        with Locations(Location((-204.571067812, -224.82233047, 0), (0, 0, 90))):
            Circle(CROQUIS8_R)
        with Locations(Location((-186.893398282, -242.5, 0), (0, 0, 90))):
            Circle(CROQUIS8_R)
    extrude(amount=-CORTAR_EXTRUIR7_DEPTH, mode=Mode.SUBTRACT)

    # Croquis9 → Cortar-Extruir8 (cut, through all)
    with BuildSketch(Plane(origin=(0, 9, 0), x_dir=(1, 0, 0), z_dir=(0, 1, 0))):
        with Locations(Location((-210, 210, 0), (0, 0, 270))):
            Circle(CROQUIS9_R)
        with Locations(Location((-210, 190, 0), (0, 0, 270))):
            Circle(CROQUIS9_R)
        with Locations(Location((-210, 165, 0), (0, 0, 270))):
            Circle(CROQUIS9_R)
        with Locations(Location((-210, 135, 0), (0, 0, 270))):
            Circle(CROQUIS9_R)
        with Locations(Location((-210, 0, 0), (0, 0, 270))):
            Circle(CROQUIS9_R)
        with Locations(Location((-91.6, 0, 0), (0, 0, 270))):
            Circle(CROQUIS9_R)
        with Locations(Location((-10, 0, 0), (0, 0, 270))):
            Circle(CROQUIS9_R)
        with Locations(Location((0, 210, 0), (0, 0, 270))):
            Circle(CROQUIS9_R)
        with Locations(Location((-10, 190, 0), (0, 0, 270))):
            Circle(CROQUIS9_R)
        with Locations(Location((-91.6, 190, 0), (0, 0, 270))):
            Circle(CROQUIS9_R)
        with Locations(Location((210, 0, 0), (0, 0, 90))):
            Circle(CROQUIS9_R)
        with Locations(Location((91.6, 0, 0), (0, 0, 90))):
            Circle(CROQUIS9_R)
        with Locations(Location((10, 0, 0), (0, 0, 90))):
            Circle(CROQUIS9_R)
        with Locations(Location((91.6, 190, 0), (0, 0, 90))):
            Circle(CROQUIS9_R)
        with Locations(Location((10, 190, 0), (0, 0, 90))):
            Circle(CROQUIS9_R)
        with Locations(Location((210, 135, 0), (0, 0, 90))):
            Circle(CROQUIS9_R)
        with Locations(Location((210, 165, 0), (0, 0, 90))):
            Circle(CROQUIS9_R)
        with Locations(Location((210, 190, 0), (0, 0, 90))):
            Circle(CROQUIS9_R)
        with Locations(Location((210, 210, 0), (0, 0, 90))):
            Circle(CROQUIS9_R)
        with Locations(Location((210, -210, 0), (0, 0, 270))):
            Circle(CROQUIS9_R)
        with Locations(Location((210, -190, 0), (0, 0, 270))):
            Circle(CROQUIS9_R)
        with Locations(Location((210, -165, 0), (0, 0, 270))):
            Circle(CROQUIS9_R)
        with Locations(Location((210, -135, 0), (0, 0, 270))):
            Circle(CROQUIS9_R)
        with Locations(Location((10, -190, 0), (0, 0, 270))):
            Circle(CROQUIS9_R)
        with Locations(Location((91.6, -190, 0), (0, 0, 270))):
            Circle(CROQUIS9_R)
        with Locations(Location((-91.6, -190, 0), (0, 0, 90))):
            Circle(CROQUIS9_R)
        with Locations(Location((-10, -190, 0), (0, 0, 90))):
            Circle(CROQUIS9_R)
        with Locations(Location((0, -210, 0), (0, 0, 90))):
            Circle(CROQUIS9_R)
        with Locations(Location((-210, -135, 0), (0, 0, 90))):
            Circle(CROQUIS9_R)
        with Locations(Location((-210, -165, 0), (0, 0, 90))):
            Circle(CROQUIS9_R)
        with Locations(Location((-210, -190, 0), (0, 0, 90))):
            Circle(CROQUIS9_R)
        with Locations(Location((-210, -210, 0), (0, 0, 90))):
            Circle(CROQUIS9_R)
    extrude(amount=-CORTAR_EXTRUIR8_DEPTH, mode=Mode.SUBTRACT)


solid = part.part
